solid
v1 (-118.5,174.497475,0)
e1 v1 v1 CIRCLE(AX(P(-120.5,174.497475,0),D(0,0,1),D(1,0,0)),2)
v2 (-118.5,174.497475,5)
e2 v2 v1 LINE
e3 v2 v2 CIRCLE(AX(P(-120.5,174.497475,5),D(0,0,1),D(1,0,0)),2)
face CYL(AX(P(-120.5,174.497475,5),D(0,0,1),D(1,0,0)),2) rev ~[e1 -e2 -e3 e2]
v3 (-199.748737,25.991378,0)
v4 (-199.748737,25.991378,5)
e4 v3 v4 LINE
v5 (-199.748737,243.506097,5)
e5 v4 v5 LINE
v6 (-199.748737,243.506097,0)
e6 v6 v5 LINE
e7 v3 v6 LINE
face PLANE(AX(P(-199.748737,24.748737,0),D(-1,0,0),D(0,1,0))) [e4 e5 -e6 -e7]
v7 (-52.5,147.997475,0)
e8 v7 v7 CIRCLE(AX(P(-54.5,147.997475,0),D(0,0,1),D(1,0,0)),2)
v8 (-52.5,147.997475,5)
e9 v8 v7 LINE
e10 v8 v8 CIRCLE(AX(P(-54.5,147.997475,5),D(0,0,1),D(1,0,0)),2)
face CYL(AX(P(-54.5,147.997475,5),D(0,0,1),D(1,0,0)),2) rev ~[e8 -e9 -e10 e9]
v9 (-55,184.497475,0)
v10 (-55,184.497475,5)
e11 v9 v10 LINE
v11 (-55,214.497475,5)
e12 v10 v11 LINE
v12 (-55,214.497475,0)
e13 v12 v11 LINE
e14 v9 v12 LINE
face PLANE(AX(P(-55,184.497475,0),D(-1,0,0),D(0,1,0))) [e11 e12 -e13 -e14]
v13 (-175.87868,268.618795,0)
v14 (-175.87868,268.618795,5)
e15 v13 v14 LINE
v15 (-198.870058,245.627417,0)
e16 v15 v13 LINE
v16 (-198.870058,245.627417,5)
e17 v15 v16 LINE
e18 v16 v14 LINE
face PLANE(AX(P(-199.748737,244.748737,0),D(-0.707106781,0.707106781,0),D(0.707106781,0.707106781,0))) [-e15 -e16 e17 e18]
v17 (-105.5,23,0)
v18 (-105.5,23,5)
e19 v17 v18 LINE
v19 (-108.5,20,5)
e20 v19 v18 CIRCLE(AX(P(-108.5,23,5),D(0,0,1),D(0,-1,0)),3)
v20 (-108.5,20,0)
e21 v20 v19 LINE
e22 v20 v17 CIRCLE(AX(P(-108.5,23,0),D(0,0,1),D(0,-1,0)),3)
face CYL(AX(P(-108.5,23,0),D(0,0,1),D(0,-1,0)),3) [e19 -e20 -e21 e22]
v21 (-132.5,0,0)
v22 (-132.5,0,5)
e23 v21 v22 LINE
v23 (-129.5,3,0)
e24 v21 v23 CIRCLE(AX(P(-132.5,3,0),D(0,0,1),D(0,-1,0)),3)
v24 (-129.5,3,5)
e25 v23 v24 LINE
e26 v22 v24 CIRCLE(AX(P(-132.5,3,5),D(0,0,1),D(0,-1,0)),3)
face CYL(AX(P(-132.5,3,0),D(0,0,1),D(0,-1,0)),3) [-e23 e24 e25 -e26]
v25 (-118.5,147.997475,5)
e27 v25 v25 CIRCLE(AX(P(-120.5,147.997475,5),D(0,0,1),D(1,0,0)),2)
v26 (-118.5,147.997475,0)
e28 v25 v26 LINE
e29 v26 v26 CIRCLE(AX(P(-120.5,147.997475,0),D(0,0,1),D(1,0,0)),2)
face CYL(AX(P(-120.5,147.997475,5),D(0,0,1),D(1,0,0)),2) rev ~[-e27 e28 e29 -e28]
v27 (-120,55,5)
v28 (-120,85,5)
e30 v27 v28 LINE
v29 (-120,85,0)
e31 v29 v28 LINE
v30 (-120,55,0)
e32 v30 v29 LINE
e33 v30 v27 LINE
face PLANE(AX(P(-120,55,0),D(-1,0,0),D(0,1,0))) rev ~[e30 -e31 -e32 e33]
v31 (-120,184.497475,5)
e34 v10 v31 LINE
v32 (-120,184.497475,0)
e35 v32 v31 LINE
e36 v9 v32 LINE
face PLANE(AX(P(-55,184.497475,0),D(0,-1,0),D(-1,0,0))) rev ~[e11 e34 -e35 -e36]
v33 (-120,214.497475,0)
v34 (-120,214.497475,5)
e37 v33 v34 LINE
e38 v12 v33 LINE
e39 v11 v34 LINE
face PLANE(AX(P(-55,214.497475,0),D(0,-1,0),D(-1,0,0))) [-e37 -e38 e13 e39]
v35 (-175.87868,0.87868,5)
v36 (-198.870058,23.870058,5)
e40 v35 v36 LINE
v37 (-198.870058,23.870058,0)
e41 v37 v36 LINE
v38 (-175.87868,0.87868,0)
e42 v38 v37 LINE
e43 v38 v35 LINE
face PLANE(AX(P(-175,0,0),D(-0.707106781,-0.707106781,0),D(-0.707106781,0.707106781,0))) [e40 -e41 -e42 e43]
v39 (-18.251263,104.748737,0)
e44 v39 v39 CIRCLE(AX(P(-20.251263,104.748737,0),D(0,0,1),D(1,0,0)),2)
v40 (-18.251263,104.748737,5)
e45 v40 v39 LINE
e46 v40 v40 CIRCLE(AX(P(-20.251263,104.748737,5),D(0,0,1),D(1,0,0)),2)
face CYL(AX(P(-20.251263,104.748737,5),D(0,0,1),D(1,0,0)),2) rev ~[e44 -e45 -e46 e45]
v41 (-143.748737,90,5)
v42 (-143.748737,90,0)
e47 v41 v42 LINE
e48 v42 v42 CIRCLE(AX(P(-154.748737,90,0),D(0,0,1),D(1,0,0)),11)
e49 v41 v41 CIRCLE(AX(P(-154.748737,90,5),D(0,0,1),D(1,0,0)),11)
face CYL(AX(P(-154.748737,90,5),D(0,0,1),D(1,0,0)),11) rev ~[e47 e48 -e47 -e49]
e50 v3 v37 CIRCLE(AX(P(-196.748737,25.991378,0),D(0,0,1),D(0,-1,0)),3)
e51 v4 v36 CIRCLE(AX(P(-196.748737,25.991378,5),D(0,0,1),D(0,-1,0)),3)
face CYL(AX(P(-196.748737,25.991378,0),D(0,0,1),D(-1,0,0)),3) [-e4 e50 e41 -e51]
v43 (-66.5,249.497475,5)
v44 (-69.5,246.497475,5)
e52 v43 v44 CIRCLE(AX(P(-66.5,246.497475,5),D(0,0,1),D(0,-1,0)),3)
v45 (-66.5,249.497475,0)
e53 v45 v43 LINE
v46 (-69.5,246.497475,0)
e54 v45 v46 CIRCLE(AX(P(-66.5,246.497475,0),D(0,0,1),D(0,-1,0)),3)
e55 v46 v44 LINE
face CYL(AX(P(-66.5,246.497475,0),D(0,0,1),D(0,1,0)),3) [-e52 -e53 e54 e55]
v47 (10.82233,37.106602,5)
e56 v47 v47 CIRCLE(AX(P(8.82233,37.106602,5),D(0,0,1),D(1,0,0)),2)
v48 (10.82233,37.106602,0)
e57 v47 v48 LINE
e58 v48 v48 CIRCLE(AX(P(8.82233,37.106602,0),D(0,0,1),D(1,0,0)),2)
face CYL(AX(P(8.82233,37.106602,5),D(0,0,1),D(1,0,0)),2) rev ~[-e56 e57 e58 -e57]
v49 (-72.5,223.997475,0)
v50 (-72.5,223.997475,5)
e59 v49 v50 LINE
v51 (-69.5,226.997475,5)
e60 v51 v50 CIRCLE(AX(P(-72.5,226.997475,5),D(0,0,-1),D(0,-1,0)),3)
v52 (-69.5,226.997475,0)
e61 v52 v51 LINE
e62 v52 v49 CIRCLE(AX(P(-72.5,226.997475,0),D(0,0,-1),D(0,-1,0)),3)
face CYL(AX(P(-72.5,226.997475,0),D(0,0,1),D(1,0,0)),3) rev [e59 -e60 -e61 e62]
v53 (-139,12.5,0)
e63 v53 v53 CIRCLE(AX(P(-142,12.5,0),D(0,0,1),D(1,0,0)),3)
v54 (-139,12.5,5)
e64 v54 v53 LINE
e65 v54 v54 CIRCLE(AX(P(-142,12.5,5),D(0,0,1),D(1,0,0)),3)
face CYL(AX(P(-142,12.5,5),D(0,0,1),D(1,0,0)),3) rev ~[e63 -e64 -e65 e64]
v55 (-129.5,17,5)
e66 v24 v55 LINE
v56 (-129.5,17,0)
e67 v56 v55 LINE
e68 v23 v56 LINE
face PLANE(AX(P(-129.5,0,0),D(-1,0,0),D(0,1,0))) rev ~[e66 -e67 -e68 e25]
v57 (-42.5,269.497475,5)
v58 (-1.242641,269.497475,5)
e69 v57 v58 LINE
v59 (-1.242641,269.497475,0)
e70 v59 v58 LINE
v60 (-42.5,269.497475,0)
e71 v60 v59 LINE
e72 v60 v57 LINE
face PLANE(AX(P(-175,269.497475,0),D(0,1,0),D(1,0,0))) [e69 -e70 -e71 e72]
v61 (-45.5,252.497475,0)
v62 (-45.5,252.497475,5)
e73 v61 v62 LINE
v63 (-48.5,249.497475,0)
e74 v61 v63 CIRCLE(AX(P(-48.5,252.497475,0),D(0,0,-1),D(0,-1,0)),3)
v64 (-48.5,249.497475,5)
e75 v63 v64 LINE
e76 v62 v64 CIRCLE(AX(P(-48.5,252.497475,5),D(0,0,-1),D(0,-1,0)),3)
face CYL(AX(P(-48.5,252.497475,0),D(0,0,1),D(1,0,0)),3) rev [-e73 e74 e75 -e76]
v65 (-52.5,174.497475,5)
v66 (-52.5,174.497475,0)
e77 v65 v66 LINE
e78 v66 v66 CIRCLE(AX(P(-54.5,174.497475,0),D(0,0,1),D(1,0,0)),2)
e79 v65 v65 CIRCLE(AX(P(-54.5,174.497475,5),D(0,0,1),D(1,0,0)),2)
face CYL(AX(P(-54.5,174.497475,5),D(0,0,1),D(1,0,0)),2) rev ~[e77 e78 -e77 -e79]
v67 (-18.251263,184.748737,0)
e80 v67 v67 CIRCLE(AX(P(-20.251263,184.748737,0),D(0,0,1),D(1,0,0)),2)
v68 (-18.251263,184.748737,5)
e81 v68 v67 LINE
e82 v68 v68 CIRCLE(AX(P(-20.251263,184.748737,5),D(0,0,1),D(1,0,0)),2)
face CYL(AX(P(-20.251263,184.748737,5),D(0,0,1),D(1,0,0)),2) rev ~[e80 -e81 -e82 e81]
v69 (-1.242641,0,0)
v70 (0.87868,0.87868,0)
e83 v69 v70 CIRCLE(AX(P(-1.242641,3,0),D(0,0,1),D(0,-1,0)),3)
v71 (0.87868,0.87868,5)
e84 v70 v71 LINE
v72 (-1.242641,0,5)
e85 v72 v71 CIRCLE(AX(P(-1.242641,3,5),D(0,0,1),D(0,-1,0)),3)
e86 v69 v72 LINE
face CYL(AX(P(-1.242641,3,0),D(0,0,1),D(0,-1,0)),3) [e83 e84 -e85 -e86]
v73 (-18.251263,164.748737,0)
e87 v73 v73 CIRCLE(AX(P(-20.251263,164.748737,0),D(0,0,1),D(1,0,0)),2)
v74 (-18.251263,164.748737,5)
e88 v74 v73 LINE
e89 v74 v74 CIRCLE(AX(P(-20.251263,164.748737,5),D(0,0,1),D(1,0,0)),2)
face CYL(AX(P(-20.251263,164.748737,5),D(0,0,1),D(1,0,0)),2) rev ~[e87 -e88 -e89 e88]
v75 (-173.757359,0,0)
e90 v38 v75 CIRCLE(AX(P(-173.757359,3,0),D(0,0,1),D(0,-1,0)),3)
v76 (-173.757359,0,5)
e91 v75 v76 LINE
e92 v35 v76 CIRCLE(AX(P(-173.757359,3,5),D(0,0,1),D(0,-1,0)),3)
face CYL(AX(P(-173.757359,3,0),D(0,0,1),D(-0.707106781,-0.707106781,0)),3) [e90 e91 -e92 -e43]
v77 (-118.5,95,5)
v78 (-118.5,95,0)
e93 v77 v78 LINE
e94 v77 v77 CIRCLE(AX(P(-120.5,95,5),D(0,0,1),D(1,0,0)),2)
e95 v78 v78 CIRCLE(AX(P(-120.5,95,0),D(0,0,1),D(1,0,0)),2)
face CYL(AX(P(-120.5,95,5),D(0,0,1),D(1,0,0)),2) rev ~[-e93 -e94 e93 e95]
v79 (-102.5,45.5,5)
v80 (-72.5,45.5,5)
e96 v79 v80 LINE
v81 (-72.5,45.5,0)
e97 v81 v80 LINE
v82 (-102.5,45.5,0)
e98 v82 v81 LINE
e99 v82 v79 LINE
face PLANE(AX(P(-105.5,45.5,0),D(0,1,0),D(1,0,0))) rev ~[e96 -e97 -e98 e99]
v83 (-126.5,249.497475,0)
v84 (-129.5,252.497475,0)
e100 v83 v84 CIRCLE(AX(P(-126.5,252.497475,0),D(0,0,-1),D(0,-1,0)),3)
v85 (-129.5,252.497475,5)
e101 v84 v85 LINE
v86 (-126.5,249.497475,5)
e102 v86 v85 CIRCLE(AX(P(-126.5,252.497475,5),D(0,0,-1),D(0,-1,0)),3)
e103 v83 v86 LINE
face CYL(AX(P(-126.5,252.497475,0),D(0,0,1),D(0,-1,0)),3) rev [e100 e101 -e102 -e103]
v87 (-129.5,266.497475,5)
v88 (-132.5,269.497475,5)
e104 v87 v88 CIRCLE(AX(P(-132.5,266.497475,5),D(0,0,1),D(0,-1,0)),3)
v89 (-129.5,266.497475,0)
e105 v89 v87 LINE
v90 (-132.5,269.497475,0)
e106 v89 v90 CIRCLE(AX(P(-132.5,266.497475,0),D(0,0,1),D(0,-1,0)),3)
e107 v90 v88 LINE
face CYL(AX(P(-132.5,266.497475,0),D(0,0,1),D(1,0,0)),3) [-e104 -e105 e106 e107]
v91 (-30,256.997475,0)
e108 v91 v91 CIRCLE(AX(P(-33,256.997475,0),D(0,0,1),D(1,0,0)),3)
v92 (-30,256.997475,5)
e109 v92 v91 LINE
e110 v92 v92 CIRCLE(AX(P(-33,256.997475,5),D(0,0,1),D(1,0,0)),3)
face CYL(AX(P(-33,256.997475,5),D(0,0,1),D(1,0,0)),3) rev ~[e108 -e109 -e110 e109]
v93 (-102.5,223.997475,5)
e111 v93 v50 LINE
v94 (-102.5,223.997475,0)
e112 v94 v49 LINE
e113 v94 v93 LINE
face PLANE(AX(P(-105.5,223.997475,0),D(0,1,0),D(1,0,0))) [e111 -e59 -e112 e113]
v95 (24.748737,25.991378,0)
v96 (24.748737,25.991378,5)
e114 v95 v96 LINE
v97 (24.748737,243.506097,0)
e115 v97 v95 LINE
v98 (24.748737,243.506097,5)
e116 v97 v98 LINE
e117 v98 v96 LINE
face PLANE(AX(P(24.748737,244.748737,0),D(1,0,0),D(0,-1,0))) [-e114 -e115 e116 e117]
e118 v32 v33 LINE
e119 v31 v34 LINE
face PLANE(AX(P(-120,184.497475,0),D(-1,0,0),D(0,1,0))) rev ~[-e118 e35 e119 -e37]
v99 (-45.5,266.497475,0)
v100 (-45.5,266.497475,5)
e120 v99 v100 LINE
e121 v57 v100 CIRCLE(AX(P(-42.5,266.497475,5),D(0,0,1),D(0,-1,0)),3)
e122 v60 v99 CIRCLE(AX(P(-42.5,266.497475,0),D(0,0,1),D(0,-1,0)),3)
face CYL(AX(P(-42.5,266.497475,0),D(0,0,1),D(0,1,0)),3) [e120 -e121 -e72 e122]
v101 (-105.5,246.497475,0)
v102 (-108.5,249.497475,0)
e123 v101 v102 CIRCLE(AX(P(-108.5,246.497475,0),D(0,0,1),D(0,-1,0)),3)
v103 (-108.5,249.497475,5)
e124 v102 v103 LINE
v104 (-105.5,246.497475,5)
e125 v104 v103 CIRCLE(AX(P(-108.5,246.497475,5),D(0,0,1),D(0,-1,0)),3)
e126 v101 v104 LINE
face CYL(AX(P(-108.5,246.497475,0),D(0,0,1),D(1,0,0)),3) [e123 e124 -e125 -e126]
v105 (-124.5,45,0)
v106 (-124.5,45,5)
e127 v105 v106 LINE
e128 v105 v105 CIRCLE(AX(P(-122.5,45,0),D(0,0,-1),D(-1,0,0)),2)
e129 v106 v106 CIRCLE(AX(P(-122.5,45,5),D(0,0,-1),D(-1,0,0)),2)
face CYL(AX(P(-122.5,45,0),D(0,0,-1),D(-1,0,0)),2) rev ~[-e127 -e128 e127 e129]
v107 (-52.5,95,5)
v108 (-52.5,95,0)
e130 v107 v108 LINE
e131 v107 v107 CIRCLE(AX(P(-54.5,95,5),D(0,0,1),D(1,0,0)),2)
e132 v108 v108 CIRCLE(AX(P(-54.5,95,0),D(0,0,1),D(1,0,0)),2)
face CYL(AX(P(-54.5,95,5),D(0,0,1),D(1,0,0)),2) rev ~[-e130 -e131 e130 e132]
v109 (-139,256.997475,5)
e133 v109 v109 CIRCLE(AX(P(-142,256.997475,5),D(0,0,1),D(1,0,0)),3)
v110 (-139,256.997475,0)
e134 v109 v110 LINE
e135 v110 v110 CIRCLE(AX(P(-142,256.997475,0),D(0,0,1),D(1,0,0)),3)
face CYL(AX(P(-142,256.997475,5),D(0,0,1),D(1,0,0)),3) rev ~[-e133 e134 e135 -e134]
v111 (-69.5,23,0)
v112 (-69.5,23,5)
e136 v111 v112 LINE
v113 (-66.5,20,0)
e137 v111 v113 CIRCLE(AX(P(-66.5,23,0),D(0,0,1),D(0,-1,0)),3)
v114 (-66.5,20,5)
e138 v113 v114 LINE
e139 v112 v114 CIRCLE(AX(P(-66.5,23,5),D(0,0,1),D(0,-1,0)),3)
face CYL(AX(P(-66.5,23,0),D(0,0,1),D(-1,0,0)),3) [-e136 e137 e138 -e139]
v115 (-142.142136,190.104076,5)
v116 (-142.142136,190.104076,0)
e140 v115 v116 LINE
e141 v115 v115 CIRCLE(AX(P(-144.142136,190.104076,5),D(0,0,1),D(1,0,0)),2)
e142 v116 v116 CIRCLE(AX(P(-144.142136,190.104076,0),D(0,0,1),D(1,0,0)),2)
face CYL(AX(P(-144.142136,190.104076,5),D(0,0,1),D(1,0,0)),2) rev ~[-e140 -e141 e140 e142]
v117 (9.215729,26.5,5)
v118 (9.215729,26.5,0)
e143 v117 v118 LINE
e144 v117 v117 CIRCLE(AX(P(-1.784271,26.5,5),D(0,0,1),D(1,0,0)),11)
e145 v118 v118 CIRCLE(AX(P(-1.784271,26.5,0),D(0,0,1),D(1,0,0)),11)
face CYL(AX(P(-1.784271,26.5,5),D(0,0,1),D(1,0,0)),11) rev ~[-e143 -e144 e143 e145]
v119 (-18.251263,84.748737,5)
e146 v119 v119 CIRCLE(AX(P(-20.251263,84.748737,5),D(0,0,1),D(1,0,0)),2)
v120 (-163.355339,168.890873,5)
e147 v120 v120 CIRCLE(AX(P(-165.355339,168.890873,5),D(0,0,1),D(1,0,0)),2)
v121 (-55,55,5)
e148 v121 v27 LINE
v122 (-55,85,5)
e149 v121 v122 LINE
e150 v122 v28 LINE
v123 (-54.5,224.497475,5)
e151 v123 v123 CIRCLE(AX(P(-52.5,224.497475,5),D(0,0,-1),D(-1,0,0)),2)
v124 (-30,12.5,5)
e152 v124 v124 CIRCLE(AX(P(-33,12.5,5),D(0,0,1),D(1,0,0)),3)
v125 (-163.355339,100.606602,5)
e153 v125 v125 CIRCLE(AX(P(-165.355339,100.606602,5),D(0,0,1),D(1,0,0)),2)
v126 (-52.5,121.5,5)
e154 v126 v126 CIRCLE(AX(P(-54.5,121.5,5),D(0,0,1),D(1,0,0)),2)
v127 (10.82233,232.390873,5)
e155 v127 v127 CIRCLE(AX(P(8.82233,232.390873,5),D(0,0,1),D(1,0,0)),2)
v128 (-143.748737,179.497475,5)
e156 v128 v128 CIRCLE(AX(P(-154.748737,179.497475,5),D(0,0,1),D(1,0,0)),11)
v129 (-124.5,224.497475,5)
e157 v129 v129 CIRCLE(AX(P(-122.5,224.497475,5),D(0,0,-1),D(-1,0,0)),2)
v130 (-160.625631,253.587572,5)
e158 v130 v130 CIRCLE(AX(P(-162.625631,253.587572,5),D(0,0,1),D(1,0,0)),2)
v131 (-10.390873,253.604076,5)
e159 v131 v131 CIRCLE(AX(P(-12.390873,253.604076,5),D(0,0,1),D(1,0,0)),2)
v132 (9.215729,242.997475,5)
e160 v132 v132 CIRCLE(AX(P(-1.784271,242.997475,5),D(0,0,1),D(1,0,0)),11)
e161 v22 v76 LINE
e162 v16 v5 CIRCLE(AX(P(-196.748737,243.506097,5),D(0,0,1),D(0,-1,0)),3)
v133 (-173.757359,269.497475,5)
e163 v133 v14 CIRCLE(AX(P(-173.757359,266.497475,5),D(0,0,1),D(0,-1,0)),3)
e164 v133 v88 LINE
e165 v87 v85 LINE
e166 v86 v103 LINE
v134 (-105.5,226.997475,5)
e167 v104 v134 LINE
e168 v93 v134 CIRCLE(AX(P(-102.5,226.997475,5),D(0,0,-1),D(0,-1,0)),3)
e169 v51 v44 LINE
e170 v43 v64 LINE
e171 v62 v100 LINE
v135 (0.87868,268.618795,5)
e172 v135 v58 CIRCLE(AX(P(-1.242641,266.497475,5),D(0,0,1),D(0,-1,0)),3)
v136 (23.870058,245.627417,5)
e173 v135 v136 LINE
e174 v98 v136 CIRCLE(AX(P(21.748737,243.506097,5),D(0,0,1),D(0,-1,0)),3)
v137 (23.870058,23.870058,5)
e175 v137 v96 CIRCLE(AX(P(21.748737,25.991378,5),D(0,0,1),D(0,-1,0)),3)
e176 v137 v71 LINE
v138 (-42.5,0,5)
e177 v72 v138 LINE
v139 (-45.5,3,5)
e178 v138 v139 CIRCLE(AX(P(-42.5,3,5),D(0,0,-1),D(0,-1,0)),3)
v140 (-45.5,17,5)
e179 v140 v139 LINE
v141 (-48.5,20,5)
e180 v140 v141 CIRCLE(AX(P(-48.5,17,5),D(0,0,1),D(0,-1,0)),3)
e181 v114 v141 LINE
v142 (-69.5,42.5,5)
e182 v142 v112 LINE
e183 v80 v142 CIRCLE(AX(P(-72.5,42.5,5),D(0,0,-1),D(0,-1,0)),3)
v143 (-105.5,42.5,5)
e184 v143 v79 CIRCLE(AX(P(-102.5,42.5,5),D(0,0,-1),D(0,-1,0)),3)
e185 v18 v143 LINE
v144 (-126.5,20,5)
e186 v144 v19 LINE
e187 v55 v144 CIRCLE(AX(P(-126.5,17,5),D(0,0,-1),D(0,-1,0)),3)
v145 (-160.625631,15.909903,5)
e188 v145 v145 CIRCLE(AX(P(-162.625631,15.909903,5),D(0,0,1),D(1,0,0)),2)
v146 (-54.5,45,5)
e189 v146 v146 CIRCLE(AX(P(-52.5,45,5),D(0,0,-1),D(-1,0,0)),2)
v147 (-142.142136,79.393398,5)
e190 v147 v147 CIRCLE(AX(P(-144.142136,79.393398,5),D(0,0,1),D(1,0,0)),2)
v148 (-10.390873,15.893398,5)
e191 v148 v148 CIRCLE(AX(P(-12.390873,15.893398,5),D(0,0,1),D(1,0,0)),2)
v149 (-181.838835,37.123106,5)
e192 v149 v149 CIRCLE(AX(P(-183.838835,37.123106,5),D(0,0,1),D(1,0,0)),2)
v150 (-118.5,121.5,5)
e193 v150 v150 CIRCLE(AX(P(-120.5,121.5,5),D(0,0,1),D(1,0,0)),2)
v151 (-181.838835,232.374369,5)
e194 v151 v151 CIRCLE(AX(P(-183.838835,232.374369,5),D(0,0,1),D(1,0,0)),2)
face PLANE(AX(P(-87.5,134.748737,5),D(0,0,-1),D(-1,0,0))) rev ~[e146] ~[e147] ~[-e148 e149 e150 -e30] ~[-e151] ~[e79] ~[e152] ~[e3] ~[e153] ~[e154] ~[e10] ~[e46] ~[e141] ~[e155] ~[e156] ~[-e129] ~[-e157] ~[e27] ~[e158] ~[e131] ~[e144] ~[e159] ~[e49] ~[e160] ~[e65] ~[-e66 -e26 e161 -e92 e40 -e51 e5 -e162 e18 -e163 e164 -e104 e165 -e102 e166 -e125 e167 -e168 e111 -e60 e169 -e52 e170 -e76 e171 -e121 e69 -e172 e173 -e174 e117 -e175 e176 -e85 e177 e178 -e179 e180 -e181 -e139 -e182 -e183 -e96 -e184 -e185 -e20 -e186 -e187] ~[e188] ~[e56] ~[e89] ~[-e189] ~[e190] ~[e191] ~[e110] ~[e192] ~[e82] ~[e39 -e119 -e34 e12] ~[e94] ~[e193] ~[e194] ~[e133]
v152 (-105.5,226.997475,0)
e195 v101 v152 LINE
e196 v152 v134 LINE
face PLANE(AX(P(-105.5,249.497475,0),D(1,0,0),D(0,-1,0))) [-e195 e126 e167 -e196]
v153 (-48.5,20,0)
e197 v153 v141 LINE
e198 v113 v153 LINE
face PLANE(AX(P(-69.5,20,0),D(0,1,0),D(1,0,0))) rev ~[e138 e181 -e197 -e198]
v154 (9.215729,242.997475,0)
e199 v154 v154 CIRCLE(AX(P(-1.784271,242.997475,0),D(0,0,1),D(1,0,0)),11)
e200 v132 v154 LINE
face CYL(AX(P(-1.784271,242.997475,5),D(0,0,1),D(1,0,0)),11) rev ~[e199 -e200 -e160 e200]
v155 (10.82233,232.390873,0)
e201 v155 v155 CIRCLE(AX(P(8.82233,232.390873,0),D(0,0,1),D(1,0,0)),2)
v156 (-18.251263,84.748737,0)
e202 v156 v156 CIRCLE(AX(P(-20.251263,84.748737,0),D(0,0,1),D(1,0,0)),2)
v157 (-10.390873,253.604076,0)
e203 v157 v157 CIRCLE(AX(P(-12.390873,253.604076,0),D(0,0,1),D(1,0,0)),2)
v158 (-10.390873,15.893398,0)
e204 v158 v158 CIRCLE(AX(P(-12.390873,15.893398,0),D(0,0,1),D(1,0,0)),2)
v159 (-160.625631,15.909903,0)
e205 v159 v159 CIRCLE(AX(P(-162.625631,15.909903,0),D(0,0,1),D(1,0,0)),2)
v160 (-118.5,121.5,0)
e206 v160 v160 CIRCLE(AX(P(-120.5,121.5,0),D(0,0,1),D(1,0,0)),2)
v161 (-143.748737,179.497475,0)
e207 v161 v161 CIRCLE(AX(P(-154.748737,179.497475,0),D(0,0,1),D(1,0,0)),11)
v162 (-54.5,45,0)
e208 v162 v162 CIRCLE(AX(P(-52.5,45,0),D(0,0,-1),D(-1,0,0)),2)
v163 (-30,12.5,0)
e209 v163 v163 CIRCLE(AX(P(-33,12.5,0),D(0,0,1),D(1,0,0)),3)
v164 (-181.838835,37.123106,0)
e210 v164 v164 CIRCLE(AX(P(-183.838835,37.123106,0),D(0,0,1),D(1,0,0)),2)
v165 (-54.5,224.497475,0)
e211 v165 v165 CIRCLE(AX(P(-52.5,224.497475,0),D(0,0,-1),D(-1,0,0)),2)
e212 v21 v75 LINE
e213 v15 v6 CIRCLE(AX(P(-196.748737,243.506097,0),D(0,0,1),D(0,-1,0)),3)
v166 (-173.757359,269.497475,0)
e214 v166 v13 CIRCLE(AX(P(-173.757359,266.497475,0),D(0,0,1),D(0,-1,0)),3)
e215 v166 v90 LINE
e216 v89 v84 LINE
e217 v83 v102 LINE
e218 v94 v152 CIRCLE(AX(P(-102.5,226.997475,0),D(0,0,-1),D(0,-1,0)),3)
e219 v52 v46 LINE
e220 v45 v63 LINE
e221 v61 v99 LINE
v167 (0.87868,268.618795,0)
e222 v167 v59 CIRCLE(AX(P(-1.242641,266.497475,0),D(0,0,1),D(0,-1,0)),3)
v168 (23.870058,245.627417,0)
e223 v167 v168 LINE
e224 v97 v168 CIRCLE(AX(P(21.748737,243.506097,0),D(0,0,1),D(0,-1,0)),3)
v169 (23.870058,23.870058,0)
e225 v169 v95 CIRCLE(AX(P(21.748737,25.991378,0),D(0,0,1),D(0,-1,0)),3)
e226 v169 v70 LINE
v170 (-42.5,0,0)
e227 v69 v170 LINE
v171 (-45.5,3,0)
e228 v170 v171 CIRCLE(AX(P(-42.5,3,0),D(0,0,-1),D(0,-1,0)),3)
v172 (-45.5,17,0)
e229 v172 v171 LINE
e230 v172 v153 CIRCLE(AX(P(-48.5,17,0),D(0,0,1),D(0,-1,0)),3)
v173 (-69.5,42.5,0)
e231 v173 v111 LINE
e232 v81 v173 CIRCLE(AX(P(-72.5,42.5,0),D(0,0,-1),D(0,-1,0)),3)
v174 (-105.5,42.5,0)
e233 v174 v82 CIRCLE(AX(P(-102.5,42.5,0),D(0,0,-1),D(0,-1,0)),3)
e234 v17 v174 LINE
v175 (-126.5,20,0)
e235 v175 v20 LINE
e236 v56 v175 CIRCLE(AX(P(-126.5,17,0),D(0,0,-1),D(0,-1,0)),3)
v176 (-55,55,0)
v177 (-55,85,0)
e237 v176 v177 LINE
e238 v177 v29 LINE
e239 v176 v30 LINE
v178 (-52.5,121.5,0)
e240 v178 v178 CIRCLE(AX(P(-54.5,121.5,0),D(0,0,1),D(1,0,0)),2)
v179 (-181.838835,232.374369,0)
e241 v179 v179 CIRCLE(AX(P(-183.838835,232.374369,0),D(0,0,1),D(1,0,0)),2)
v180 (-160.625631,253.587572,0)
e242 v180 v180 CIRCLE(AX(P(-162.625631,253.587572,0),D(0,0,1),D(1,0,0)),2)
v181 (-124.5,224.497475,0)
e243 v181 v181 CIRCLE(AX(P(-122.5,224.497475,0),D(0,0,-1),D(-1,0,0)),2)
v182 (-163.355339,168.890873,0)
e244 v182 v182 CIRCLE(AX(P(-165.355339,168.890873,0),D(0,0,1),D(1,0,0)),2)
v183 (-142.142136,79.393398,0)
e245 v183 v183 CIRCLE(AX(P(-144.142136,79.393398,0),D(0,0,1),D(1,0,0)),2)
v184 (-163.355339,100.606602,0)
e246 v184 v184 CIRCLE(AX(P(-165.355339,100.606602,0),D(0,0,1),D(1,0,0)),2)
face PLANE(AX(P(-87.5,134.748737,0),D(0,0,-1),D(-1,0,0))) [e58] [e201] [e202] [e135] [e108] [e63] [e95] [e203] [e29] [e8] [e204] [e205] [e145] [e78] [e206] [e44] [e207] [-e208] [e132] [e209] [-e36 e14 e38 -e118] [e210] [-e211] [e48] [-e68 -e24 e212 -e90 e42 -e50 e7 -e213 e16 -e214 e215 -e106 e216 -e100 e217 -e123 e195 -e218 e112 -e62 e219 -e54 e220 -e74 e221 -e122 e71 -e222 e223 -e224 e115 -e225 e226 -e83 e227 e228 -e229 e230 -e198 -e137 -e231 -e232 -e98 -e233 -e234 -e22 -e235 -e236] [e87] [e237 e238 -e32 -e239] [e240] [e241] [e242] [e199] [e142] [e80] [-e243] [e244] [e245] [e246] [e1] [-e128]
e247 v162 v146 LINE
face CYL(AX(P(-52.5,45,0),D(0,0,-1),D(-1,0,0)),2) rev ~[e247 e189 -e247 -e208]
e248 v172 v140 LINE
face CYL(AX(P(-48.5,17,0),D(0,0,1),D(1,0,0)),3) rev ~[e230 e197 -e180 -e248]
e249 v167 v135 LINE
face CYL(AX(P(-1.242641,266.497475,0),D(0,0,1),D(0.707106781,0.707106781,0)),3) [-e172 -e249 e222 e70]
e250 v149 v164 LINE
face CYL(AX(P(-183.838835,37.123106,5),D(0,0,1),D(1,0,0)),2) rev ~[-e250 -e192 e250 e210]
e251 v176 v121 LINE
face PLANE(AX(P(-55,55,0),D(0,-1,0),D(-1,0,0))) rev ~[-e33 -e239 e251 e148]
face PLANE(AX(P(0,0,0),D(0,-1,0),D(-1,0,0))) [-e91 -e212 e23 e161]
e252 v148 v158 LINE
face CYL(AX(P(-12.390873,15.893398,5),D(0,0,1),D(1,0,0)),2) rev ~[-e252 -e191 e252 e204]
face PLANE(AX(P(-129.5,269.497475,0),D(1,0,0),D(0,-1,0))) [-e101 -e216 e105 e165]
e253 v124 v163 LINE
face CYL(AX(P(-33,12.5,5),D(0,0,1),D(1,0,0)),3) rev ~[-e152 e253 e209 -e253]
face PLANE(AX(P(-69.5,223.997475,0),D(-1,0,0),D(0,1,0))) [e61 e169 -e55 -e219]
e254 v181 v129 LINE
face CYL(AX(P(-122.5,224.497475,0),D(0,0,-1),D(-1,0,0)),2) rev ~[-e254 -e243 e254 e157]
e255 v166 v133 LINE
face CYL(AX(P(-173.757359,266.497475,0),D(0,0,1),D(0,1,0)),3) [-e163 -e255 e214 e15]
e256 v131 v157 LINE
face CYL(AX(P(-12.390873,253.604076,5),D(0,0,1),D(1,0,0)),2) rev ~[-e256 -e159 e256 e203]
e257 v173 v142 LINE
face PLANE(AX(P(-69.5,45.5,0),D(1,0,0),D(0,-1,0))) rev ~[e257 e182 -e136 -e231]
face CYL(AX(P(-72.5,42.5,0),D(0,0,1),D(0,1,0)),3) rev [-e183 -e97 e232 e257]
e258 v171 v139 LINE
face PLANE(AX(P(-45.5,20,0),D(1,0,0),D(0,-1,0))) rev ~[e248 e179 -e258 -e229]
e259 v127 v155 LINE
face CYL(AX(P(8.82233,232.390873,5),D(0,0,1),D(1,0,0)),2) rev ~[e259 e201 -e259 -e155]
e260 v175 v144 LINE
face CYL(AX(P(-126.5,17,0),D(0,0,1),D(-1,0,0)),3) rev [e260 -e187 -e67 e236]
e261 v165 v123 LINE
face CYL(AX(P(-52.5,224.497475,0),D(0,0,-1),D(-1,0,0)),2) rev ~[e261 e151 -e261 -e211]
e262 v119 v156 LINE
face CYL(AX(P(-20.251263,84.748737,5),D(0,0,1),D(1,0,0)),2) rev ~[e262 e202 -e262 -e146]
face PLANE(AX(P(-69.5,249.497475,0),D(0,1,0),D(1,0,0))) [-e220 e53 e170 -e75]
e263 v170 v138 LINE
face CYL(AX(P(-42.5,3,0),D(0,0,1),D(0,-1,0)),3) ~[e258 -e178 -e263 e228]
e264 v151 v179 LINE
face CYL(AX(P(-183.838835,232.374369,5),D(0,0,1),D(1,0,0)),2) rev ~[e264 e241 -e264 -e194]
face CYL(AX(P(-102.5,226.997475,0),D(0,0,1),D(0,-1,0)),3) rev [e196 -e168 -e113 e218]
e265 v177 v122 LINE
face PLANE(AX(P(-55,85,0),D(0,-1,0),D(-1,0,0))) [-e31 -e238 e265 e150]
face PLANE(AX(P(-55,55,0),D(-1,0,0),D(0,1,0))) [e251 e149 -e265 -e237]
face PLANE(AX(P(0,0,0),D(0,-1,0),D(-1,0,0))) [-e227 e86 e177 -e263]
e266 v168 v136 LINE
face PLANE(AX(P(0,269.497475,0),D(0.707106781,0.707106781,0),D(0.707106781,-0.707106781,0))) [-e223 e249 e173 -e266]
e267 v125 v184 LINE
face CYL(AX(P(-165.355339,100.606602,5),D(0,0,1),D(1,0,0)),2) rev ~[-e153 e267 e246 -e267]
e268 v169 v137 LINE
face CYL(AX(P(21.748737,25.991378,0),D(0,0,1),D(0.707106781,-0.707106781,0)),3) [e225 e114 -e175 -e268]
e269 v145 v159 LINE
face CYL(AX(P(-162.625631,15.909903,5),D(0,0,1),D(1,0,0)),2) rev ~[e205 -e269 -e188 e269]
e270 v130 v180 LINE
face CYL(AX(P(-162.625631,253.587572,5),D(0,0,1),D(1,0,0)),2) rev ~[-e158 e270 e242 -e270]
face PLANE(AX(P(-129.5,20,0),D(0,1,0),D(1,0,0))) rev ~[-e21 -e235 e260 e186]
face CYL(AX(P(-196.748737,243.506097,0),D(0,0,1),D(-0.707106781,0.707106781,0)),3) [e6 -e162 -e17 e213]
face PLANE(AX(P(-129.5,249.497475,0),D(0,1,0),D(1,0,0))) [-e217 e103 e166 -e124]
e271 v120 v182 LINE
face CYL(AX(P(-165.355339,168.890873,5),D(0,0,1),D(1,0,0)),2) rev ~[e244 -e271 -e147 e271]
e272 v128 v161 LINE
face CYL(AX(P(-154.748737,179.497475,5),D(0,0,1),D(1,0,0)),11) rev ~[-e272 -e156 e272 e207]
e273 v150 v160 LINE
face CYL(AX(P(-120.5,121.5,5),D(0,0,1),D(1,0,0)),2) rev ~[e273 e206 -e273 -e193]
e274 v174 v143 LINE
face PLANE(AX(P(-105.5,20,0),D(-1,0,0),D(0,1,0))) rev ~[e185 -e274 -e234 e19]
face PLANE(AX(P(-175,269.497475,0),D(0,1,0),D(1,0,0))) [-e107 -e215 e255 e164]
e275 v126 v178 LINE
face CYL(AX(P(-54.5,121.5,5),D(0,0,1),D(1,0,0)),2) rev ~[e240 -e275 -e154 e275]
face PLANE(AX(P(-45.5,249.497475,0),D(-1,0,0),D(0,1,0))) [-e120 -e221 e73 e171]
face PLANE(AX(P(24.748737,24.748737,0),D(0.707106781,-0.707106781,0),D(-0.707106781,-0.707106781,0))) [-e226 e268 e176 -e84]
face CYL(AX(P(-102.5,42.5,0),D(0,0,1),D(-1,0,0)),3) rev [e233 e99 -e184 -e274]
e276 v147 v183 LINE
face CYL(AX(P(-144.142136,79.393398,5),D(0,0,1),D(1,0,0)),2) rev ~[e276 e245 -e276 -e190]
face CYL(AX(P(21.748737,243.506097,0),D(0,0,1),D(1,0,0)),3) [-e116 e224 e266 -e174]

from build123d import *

# Parameters (mm, degrees)
BASE_DEPTH                = 5
ESQUISSE3_R               = 2
ESQUISSE3_W               = 65
ESQUISSE3_H               = 30
ENL_V_MAT_EXTRU_1_DEPTH   = 6
CONG_1_R                  = 3
PER_AGE_POUR_BILLES_REACH = 7
ESQUISSE6_R               = 2
ESQUISSE6_R_2             = 11
PER_AGE_POUR_PROFIL_REACH = 7
ESQUISSE8_R               = 3
ESQUISSE10_R              = 2
ENL_V_MAT_EXTRU_3_DEPTH   = 6
ESQUISSE13_R              = 2
ENL_V_MAT_EXTRU_4_DEPTH   = 10


with BuildPart() as part:
    # Esquisse1 → Base (new body)
    with BuildSketch(Plane.XY):
        Polygon((0, 0), (-175, 0), (-199.748737342, 24.748737342), (-199.748737342, 244.748737342), (-175, 269.497474683), (0, 269.497474683), (24.748737342, 244.748737342), (24.748737342, 24.748737342), align=None)
    extrude(amount=BASE_DEPTH)

    # Esquisse3 → Enlèv. mat.-Extru.1 (cut, through all)
    with BuildSketch(Plane(origin=(0, 0, 0), x_dir=(-1, 0, 0), z_dir=(0, 0, -1))):
        with Locations((52.5, 45)):
            Circle(ESQUISSE3_R)
        with Locations((122.5, 45)):
            Circle(ESQUISSE3_R)
        with Locations((122.5, 224.497474683)):
            Circle(ESQUISSE3_R)
        with Locations((52.5, 224.497474683)):
            Circle(ESQUISSE3_R)
        Polygon((129.5, 0), (129.5, 20), (105.5, 20), (105.5, 45.5), (69.5, 45.5), (69.5, 20), (45.5, 20), (45.5, 0), align=None)
        Polygon((45.5, 269.497474683), (129.5, 269.497474683), (129.5, 249.497474683), (105.5, 249.497474683), (105.5, 223.997474683), (69.5, 223.997474683), (69.5, 249.497474683), (45.5, 249.497474683), align=None)
        with Locations((87.5, 199.497474683)):
            Rectangle(ESQUISSE3_W, ESQUISSE3_H)
        with Locations((87.5, 70)):
            Rectangle(ESQUISSE3_W, ESQUISSE3_H)
    extrude(amount=-ENL_V_MAT_EXTRU_1_DEPTH, mode=Mode.SUBTRACT)

    # Congé1
    cong_1_edges = [part.edges().sort_by_distance(p)[0] for p in [
        (0, 0, 2.5),
        (-175, 0, 2.5),
        (-199.748737342, 24.748737342, 2.5),
        (-199.748737342, 244.748737342, 2.5),
        (-175, 269.497474683, 2.5),
        (0, 269.497474683, 2.5),
        (24.748737342, 244.748737342, 2.5),
        (24.748737342, 24.748737342, 2.5),
        (-45.5, 249.497474683, 2.5),
        (-45.5, 269.497474683, 2.5),
        (-129.5, 269.497474683, 2.5),
        (-129.5, 249.497474683, 2.5),
        (-105.5, 249.497474683, 2.5),
        (-105.5, 223.997474683, 2.5),
        (-69.5, 223.997474683, 2.5),
        (-69.5, 249.497474683, 2.5),
        (-129.5, 0, 2.5),
        (-45.5, 0, 2.5),
        (-45.5, 20, 2.5),
        (-69.5, 20, 2.5),
        (-69.5, 45.5, 2.5),
        (-105.5, 45.5, 2.5),
        (-105.5, 20, 2.5),
        (-129.5, 20, 2.5),
    ]]
    fillet(cong_1_edges, radius=CONG_1_R)

    # Esquisse6 → Perçage pour billes (cut, up to next)
    with BuildSketch(Plane.XY.offset(5), mode=Mode.PRIVATE) as per_age_pour_billes_sk1:
        with Locations((-12.390872965, 15.893398282)):
            Circle(ESQUISSE6_R)
    per_age_pour_billes_tool1 = extrude(per_age_pour_billes_sk1.sketch, amount=-PER_AGE_POUR_BILLES_REACH, mode=Mode.PRIVATE) & part.part
    add(per_age_pour_billes_tool1.solids().sort_by_distance((-12.390873, 15.893398, 5))[0], mode=Mode.SUBTRACT)
    # Esquisse6 → Perçage pour billes (cut, up to next)
    with BuildSketch(Plane.XY.offset(5), mode=Mode.PRIVATE) as per_age_pour_billes_sk2:
        with Locations((8.82233047, 37.106601718)):
            Circle(ESQUISSE6_R)
    per_age_pour_billes_tool2 = extrude(per_age_pour_billes_sk2.sketch, amount=-PER_AGE_POUR_BILLES_REACH, mode=Mode.PRIVATE) & part.part
    add(per_age_pour_billes_tool2.solids().sort_by_distance((8.82233, 37.106602, 5))[0], mode=Mode.SUBTRACT)
    # Esquisse6 → Perçage pour billes (cut, up to next)
    with BuildSketch(Plane.XY.offset(5), mode=Mode.PRIVATE) as per_age_pour_billes_sk3:
        with Locations((8.82233047, 232.390872965)):
            Circle(ESQUISSE6_R)
    per_age_pour_billes_tool3 = extrude(per_age_pour_billes_sk3.sketch, amount=-PER_AGE_POUR_BILLES_REACH, mode=Mode.PRIVATE) & part.part
    add(per_age_pour_billes_tool3.solids().sort_by_distance((8.82233, 232.390873, 5))[0], mode=Mode.SUBTRACT)
    # Esquisse6 → Perçage pour billes (cut, up to next)
    with BuildSketch(Plane.XY.offset(5), mode=Mode.PRIVATE) as per_age_pour_billes_sk4:
        with Locations((-12.390872965, 253.604076401)):
            Circle(ESQUISSE6_R)
    per_age_pour_billes_tool4 = extrude(per_age_pour_billes_sk4.sketch, amount=-PER_AGE_POUR_BILLES_REACH, mode=Mode.PRIVATE) & part.part
    add(per_age_pour_billes_tool4.solids().sort_by_distance((-12.390873, 253.604076, 5))[0], mode=Mode.SUBTRACT)
    # Esquisse6 → Perçage pour billes (cut, up to next)
    with BuildSketch(Plane.XY.offset(5), mode=Mode.PRIVATE) as per_age_pour_billes_sk5:
        with Locations((-1.784271247, 242.997474683)):
            Circle(ESQUISSE6_R_2)
    per_age_pour_billes_tool5 = extrude(per_age_pour_billes_sk5.sketch, amount=-PER_AGE_POUR_BILLES_REACH, mode=Mode.PRIVATE) & part.part
    add(per_age_pour_billes_tool5.solids().sort_by_distance((-1.784271, 242.997475, 5))[0], mode=Mode.SUBTRACT)
    # Esquisse6 → Perçage pour billes (cut, up to next)
    with BuildSketch(Plane.XY.offset(5), mode=Mode.PRIVATE) as per_age_pour_billes_sk6:
        with Locations((-1.784271247, 26.5)):
            Circle(ESQUISSE6_R_2)
    per_age_pour_billes_tool6 = extrude(per_age_pour_billes_sk6.sketch, amount=-PER_AGE_POUR_BILLES_REACH, mode=Mode.PRIVATE) & part.part
    add(per_age_pour_billes_tool6.solids().sort_by_distance((-1.784271, 26.5, 5))[0], mode=Mode.SUBTRACT)
    # Esquisse6 → Perçage pour billes (cut, up to next)
    with BuildSketch(Plane.XY.offset(5), mode=Mode.PRIVATE) as per_age_pour_billes_sk7:
        with Locations((-144.142135624, 190.104076401)):
            Circle(ESQUISSE6_R)
    per_age_pour_billes_tool7 = extrude(per_age_pour_billes_sk7.sketch, amount=-PER_AGE_POUR_BILLES_REACH, mode=Mode.PRIVATE) & part.part
    add(per_age_pour_billes_tool7.solids().sort_by_distance((-144.142136, 190.104076, 5))[0], mode=Mode.SUBTRACT)
    # Esquisse6 → Perçage pour billes (cut, up to next)
    with BuildSketch(Plane.XY.offset(5), mode=Mode.PRIVATE) as per_age_pour_billes_sk8:
        with Locations((-165.355339059, 168.890872965)):
            Circle(ESQUISSE6_R)
    per_age_pour_billes_tool8 = extrude(per_age_pour_billes_sk8.sketch, amount=-PER_AGE_POUR_BILLES_REACH, mode=Mode.PRIVATE) & part.part
    add(per_age_pour_billes_tool8.solids().sort_by_distance((-165.355339, 168.890873, 5))[0], mode=Mode.SUBTRACT)
    # Esquisse6 → Perçage pour billes (cut, up to next)
    with BuildSketch(Plane.XY.offset(5), mode=Mode.PRIVATE) as per_age_pour_billes_sk9:
        with Locations((-154.748737342, 179.497474683)):
            Circle(ESQUISSE6_R_2)
    per_age_pour_billes_tool9 = extrude(per_age_pour_billes_sk9.sketch, amount=-PER_AGE_POUR_BILLES_REACH, mode=Mode.PRIVATE) & part.part
    add(per_age_pour_billes_tool9.solids().sort_by_distance((-154.748737, 179.497475, 5))[0], mode=Mode.SUBTRACT)
    # Esquisse6 → Perçage pour billes (cut, up to next)
    with BuildSketch(Plane.XY.offset(5), mode=Mode.PRIVATE) as per_age_pour_billes_sk10:
        with Locations((-165.355339059, 100.606601718)):
            Circle(ESQUISSE6_R)
    per_age_pour_billes_tool10 = extrude(per_age_pour_billes_sk10.sketch, amount=-PER_AGE_POUR_BILLES_REACH, mode=Mode.PRIVATE) & part.part
    add(per_age_pour_billes_tool10.solids().sort_by_distance((-165.355339, 100.606602, 5))[0], mode=Mode.SUBTRACT)
    # Esquisse6 → Perçage pour billes (cut, up to next)
    with BuildSketch(Plane.XY.offset(5), mode=Mode.PRIVATE) as per_age_pour_billes_sk11:
        with Locations((-154.748737342, 90)):
            Circle(ESQUISSE6_R_2)
    per_age_pour_billes_tool11 = extrude(per_age_pour_billes_sk11.sketch, amount=-PER_AGE_POUR_BILLES_REACH, mode=Mode.PRIVATE) & part.part
    add(per_age_pour_billes_tool11.solids().sort_by_distance((-154.748737, 90, 5))[0], mode=Mode.SUBTRACT)
    # Esquisse6 → Perçage pour billes (cut, up to next)
    with BuildSketch(Plane.XY.offset(5), mode=Mode.PRIVATE) as per_age_pour_billes_sk12:
        with Locations((-144.142135624, 79.393398282)):
            Circle(ESQUISSE6_R)
    per_age_pour_billes_tool12 = extrude(per_age_pour_billes_sk12.sketch, amount=-PER_AGE_POUR_BILLES_REACH, mode=Mode.PRIVATE) & part.part
    add(per_age_pour_billes_tool12.solids().sort_by_distance((-144.142136, 79.393398, 5))[0], mode=Mode.SUBTRACT)
    # Esquisse6 → Perçage pour billes (cut, up to next)
    with BuildSketch(Plane.XY.offset(5), mode=Mode.PRIVATE) as per_age_pour_billes_sk13:
        with Locations((-183.838834765, 37.123106012)):
            Circle(ESQUISSE6_R)
    per_age_pour_billes_tool13 = extrude(per_age_pour_billes_sk13.sketch, amount=-PER_AGE_POUR_BILLES_REACH, mode=Mode.PRIVATE) & part.part
    add(per_age_pour_billes_tool13.solids().sort_by_distance((-183.838835, 37.123106, 5))[0], mode=Mode.SUBTRACT)
    # Esquisse6 → Perçage pour billes (cut, up to next)
    with BuildSketch(Plane.XY.offset(5), mode=Mode.PRIVATE) as per_age_pour_billes_sk14:
        with Locations((-162.625631329, 15.909902577)):
            Circle(ESQUISSE6_R)
    per_age_pour_billes_tool14 = extrude(per_age_pour_billes_sk14.sketch, amount=-PER_AGE_POUR_BILLES_REACH, mode=Mode.PRIVATE) & part.part
    add(per_age_pour_billes_tool14.solids().sort_by_distance((-162.625631, 15.909903, 5))[0], mode=Mode.SUBTRACT)
    # Esquisse6 → Perçage pour billes (cut, up to next)
    with BuildSketch(Plane.XY.offset(5), mode=Mode.PRIVATE) as per_age_pour_billes_sk15:
        with Locations((-162.625631329, 253.587572106)):
            Circle(ESQUISSE6_R)
    per_age_pour_billes_tool15 = extrude(per_age_pour_billes_sk15.sketch, amount=-PER_AGE_POUR_BILLES_REACH, mode=Mode.PRIVATE) & part.part
    add(per_age_pour_billes_tool15.solids().sort_by_distance((-162.625631, 253.587572, 5))[0], mode=Mode.SUBTRACT)
    # Esquisse6 → Perçage pour billes (cut, up to next)
    with BuildSketch(Plane.XY.offset(5), mode=Mode.PRIVATE) as per_age_pour_billes_sk16:
        with Locations((-183.838834765, 232.374368671)):
            Circle(ESQUISSE6_R)
    per_age_pour_billes_tool16 = extrude(per_age_pour_billes_sk16.sketch, amount=-PER_AGE_POUR_BILLES_REACH, mode=Mode.PRIVATE) & part.part
    add(per_age_pour_billes_tool16.solids().sort_by_distance((-183.838835, 232.374369, 5))[0], mode=Mode.SUBTRACT)

    # Esquisse8 → Perçage pour profilé (cut, up to next)
    with BuildSketch(Plane.XY.offset(5), mode=Mode.PRIVATE) as per_age_pour_profil_sk1:
        with Locations((-142, 12.5)):
            Circle(ESQUISSE8_R)
    per_age_pour_profil_tool1 = extrude(per_age_pour_profil_sk1.sketch, amount=-PER_AGE_POUR_PROFIL_REACH, mode=Mode.PRIVATE) & part.part
    add(per_age_pour_profil_tool1.solids().sort_by_distance((-142, 12.5, 5))[0], mode=Mode.SUBTRACT)
    # Esquisse8 → Perçage pour profilé (cut, up to next)
    with BuildSketch(Plane.XY.offset(5), mode=Mode.PRIVATE) as per_age_pour_profil_sk2:
        with Locations((-142, 256.997474683)):
            Circle(ESQUISSE8_R)
    per_age_pour_profil_tool2 = extrude(per_age_pour_profil_sk2.sketch, amount=-PER_AGE_POUR_PROFIL_REACH, mode=Mode.PRIVATE) & part.part
    add(per_age_pour_profil_tool2.solids().sort_by_distance((-142, 256.997475, 5))[0], mode=Mode.SUBTRACT)
    # Esquisse8 → Perçage pour profilé (cut, up to next)
    with BuildSketch(Plane.XY.offset(5), mode=Mode.PRIVATE) as per_age_pour_profil_sk3:
        with Locations((-33, 256.997474683)):
            Circle(ESQUISSE8_R)
    per_age_pour_profil_tool3 = extrude(per_age_pour_profil_sk3.sketch, amount=-PER_AGE_POUR_PROFIL_REACH, mode=Mode.PRIVATE) & part.part
    add(per_age_pour_profil_tool3.solids().sort_by_distance((-33, 256.997475, 5))[0], mode=Mode.SUBTRACT)
    # Esquisse8 → Perçage pour profilé (cut, up to next)
    with BuildSketch(Plane.XY.offset(5), mode=Mode.PRIVATE) as per_age_pour_profil_sk4:
        with Locations((-33, 12.5)):
            Circle(ESQUISSE8_R)
    per_age_pour_profil_tool4 = extrude(per_age_pour_profil_sk4.sketch, amount=-PER_AGE_POUR_PROFIL_REACH, mode=Mode.PRIVATE) & part.part
    add(per_age_pour_profil_tool4.solids().sort_by_distance((-33, 12.5, 5))[0], mode=Mode.SUBTRACT)

    # Esquisse10 → Enlèv. mat.-Extru.3 (cut, through all)
    with BuildSketch(Plane.XY.offset(5)):
        with Locations((-120.5, 174.497474683)):
            Circle(ESQUISSE10_R)
        with Locations((-120.5, 147.997474683)):
            Circle(ESQUISSE10_R)
        with Locations((-54.5, 147.997474683)):
            Circle(ESQUISSE10_R)
        with Locations((-54.5, 174.497474683)):
            Circle(ESQUISSE10_R)
        with Locations((-54.5, 121.5)):
            Circle(ESQUISSE10_R)
        with Locations((-54.5, 95)):
            Circle(ESQUISSE10_R)
        with Locations((-120.5, 121.5)):
            Circle(ESQUISSE10_R)
        with Locations((-120.5, 95)):
            Circle(ESQUISSE10_R)
    extrude(amount=-ENL_V_MAT_EXTRU_3_DEPTH, mode=Mode.SUBTRACT)

    # Esquisse13 → Enlèv. mat.-Extru.4 (cut)
    with BuildSketch(Plane.XY.offset(5)):
        with Locations((-20.251262658, 184.748737342)):
            Circle(ESQUISSE13_R)
        with Locations((-20.251262658, 164.748737342)):
            Circle(ESQUISSE13_R)
        with Locations((-20.251262658, 104.748737342)):
            Circle(ESQUISSE13_R)
        with Locations((-20.251262658, 84.748737342)):
            Circle(ESQUISSE13_R)
    extrude(amount=-ENL_V_MAT_EXTRU_4_DEPTH, mode=Mode.SUBTRACT)


solid = part.part
